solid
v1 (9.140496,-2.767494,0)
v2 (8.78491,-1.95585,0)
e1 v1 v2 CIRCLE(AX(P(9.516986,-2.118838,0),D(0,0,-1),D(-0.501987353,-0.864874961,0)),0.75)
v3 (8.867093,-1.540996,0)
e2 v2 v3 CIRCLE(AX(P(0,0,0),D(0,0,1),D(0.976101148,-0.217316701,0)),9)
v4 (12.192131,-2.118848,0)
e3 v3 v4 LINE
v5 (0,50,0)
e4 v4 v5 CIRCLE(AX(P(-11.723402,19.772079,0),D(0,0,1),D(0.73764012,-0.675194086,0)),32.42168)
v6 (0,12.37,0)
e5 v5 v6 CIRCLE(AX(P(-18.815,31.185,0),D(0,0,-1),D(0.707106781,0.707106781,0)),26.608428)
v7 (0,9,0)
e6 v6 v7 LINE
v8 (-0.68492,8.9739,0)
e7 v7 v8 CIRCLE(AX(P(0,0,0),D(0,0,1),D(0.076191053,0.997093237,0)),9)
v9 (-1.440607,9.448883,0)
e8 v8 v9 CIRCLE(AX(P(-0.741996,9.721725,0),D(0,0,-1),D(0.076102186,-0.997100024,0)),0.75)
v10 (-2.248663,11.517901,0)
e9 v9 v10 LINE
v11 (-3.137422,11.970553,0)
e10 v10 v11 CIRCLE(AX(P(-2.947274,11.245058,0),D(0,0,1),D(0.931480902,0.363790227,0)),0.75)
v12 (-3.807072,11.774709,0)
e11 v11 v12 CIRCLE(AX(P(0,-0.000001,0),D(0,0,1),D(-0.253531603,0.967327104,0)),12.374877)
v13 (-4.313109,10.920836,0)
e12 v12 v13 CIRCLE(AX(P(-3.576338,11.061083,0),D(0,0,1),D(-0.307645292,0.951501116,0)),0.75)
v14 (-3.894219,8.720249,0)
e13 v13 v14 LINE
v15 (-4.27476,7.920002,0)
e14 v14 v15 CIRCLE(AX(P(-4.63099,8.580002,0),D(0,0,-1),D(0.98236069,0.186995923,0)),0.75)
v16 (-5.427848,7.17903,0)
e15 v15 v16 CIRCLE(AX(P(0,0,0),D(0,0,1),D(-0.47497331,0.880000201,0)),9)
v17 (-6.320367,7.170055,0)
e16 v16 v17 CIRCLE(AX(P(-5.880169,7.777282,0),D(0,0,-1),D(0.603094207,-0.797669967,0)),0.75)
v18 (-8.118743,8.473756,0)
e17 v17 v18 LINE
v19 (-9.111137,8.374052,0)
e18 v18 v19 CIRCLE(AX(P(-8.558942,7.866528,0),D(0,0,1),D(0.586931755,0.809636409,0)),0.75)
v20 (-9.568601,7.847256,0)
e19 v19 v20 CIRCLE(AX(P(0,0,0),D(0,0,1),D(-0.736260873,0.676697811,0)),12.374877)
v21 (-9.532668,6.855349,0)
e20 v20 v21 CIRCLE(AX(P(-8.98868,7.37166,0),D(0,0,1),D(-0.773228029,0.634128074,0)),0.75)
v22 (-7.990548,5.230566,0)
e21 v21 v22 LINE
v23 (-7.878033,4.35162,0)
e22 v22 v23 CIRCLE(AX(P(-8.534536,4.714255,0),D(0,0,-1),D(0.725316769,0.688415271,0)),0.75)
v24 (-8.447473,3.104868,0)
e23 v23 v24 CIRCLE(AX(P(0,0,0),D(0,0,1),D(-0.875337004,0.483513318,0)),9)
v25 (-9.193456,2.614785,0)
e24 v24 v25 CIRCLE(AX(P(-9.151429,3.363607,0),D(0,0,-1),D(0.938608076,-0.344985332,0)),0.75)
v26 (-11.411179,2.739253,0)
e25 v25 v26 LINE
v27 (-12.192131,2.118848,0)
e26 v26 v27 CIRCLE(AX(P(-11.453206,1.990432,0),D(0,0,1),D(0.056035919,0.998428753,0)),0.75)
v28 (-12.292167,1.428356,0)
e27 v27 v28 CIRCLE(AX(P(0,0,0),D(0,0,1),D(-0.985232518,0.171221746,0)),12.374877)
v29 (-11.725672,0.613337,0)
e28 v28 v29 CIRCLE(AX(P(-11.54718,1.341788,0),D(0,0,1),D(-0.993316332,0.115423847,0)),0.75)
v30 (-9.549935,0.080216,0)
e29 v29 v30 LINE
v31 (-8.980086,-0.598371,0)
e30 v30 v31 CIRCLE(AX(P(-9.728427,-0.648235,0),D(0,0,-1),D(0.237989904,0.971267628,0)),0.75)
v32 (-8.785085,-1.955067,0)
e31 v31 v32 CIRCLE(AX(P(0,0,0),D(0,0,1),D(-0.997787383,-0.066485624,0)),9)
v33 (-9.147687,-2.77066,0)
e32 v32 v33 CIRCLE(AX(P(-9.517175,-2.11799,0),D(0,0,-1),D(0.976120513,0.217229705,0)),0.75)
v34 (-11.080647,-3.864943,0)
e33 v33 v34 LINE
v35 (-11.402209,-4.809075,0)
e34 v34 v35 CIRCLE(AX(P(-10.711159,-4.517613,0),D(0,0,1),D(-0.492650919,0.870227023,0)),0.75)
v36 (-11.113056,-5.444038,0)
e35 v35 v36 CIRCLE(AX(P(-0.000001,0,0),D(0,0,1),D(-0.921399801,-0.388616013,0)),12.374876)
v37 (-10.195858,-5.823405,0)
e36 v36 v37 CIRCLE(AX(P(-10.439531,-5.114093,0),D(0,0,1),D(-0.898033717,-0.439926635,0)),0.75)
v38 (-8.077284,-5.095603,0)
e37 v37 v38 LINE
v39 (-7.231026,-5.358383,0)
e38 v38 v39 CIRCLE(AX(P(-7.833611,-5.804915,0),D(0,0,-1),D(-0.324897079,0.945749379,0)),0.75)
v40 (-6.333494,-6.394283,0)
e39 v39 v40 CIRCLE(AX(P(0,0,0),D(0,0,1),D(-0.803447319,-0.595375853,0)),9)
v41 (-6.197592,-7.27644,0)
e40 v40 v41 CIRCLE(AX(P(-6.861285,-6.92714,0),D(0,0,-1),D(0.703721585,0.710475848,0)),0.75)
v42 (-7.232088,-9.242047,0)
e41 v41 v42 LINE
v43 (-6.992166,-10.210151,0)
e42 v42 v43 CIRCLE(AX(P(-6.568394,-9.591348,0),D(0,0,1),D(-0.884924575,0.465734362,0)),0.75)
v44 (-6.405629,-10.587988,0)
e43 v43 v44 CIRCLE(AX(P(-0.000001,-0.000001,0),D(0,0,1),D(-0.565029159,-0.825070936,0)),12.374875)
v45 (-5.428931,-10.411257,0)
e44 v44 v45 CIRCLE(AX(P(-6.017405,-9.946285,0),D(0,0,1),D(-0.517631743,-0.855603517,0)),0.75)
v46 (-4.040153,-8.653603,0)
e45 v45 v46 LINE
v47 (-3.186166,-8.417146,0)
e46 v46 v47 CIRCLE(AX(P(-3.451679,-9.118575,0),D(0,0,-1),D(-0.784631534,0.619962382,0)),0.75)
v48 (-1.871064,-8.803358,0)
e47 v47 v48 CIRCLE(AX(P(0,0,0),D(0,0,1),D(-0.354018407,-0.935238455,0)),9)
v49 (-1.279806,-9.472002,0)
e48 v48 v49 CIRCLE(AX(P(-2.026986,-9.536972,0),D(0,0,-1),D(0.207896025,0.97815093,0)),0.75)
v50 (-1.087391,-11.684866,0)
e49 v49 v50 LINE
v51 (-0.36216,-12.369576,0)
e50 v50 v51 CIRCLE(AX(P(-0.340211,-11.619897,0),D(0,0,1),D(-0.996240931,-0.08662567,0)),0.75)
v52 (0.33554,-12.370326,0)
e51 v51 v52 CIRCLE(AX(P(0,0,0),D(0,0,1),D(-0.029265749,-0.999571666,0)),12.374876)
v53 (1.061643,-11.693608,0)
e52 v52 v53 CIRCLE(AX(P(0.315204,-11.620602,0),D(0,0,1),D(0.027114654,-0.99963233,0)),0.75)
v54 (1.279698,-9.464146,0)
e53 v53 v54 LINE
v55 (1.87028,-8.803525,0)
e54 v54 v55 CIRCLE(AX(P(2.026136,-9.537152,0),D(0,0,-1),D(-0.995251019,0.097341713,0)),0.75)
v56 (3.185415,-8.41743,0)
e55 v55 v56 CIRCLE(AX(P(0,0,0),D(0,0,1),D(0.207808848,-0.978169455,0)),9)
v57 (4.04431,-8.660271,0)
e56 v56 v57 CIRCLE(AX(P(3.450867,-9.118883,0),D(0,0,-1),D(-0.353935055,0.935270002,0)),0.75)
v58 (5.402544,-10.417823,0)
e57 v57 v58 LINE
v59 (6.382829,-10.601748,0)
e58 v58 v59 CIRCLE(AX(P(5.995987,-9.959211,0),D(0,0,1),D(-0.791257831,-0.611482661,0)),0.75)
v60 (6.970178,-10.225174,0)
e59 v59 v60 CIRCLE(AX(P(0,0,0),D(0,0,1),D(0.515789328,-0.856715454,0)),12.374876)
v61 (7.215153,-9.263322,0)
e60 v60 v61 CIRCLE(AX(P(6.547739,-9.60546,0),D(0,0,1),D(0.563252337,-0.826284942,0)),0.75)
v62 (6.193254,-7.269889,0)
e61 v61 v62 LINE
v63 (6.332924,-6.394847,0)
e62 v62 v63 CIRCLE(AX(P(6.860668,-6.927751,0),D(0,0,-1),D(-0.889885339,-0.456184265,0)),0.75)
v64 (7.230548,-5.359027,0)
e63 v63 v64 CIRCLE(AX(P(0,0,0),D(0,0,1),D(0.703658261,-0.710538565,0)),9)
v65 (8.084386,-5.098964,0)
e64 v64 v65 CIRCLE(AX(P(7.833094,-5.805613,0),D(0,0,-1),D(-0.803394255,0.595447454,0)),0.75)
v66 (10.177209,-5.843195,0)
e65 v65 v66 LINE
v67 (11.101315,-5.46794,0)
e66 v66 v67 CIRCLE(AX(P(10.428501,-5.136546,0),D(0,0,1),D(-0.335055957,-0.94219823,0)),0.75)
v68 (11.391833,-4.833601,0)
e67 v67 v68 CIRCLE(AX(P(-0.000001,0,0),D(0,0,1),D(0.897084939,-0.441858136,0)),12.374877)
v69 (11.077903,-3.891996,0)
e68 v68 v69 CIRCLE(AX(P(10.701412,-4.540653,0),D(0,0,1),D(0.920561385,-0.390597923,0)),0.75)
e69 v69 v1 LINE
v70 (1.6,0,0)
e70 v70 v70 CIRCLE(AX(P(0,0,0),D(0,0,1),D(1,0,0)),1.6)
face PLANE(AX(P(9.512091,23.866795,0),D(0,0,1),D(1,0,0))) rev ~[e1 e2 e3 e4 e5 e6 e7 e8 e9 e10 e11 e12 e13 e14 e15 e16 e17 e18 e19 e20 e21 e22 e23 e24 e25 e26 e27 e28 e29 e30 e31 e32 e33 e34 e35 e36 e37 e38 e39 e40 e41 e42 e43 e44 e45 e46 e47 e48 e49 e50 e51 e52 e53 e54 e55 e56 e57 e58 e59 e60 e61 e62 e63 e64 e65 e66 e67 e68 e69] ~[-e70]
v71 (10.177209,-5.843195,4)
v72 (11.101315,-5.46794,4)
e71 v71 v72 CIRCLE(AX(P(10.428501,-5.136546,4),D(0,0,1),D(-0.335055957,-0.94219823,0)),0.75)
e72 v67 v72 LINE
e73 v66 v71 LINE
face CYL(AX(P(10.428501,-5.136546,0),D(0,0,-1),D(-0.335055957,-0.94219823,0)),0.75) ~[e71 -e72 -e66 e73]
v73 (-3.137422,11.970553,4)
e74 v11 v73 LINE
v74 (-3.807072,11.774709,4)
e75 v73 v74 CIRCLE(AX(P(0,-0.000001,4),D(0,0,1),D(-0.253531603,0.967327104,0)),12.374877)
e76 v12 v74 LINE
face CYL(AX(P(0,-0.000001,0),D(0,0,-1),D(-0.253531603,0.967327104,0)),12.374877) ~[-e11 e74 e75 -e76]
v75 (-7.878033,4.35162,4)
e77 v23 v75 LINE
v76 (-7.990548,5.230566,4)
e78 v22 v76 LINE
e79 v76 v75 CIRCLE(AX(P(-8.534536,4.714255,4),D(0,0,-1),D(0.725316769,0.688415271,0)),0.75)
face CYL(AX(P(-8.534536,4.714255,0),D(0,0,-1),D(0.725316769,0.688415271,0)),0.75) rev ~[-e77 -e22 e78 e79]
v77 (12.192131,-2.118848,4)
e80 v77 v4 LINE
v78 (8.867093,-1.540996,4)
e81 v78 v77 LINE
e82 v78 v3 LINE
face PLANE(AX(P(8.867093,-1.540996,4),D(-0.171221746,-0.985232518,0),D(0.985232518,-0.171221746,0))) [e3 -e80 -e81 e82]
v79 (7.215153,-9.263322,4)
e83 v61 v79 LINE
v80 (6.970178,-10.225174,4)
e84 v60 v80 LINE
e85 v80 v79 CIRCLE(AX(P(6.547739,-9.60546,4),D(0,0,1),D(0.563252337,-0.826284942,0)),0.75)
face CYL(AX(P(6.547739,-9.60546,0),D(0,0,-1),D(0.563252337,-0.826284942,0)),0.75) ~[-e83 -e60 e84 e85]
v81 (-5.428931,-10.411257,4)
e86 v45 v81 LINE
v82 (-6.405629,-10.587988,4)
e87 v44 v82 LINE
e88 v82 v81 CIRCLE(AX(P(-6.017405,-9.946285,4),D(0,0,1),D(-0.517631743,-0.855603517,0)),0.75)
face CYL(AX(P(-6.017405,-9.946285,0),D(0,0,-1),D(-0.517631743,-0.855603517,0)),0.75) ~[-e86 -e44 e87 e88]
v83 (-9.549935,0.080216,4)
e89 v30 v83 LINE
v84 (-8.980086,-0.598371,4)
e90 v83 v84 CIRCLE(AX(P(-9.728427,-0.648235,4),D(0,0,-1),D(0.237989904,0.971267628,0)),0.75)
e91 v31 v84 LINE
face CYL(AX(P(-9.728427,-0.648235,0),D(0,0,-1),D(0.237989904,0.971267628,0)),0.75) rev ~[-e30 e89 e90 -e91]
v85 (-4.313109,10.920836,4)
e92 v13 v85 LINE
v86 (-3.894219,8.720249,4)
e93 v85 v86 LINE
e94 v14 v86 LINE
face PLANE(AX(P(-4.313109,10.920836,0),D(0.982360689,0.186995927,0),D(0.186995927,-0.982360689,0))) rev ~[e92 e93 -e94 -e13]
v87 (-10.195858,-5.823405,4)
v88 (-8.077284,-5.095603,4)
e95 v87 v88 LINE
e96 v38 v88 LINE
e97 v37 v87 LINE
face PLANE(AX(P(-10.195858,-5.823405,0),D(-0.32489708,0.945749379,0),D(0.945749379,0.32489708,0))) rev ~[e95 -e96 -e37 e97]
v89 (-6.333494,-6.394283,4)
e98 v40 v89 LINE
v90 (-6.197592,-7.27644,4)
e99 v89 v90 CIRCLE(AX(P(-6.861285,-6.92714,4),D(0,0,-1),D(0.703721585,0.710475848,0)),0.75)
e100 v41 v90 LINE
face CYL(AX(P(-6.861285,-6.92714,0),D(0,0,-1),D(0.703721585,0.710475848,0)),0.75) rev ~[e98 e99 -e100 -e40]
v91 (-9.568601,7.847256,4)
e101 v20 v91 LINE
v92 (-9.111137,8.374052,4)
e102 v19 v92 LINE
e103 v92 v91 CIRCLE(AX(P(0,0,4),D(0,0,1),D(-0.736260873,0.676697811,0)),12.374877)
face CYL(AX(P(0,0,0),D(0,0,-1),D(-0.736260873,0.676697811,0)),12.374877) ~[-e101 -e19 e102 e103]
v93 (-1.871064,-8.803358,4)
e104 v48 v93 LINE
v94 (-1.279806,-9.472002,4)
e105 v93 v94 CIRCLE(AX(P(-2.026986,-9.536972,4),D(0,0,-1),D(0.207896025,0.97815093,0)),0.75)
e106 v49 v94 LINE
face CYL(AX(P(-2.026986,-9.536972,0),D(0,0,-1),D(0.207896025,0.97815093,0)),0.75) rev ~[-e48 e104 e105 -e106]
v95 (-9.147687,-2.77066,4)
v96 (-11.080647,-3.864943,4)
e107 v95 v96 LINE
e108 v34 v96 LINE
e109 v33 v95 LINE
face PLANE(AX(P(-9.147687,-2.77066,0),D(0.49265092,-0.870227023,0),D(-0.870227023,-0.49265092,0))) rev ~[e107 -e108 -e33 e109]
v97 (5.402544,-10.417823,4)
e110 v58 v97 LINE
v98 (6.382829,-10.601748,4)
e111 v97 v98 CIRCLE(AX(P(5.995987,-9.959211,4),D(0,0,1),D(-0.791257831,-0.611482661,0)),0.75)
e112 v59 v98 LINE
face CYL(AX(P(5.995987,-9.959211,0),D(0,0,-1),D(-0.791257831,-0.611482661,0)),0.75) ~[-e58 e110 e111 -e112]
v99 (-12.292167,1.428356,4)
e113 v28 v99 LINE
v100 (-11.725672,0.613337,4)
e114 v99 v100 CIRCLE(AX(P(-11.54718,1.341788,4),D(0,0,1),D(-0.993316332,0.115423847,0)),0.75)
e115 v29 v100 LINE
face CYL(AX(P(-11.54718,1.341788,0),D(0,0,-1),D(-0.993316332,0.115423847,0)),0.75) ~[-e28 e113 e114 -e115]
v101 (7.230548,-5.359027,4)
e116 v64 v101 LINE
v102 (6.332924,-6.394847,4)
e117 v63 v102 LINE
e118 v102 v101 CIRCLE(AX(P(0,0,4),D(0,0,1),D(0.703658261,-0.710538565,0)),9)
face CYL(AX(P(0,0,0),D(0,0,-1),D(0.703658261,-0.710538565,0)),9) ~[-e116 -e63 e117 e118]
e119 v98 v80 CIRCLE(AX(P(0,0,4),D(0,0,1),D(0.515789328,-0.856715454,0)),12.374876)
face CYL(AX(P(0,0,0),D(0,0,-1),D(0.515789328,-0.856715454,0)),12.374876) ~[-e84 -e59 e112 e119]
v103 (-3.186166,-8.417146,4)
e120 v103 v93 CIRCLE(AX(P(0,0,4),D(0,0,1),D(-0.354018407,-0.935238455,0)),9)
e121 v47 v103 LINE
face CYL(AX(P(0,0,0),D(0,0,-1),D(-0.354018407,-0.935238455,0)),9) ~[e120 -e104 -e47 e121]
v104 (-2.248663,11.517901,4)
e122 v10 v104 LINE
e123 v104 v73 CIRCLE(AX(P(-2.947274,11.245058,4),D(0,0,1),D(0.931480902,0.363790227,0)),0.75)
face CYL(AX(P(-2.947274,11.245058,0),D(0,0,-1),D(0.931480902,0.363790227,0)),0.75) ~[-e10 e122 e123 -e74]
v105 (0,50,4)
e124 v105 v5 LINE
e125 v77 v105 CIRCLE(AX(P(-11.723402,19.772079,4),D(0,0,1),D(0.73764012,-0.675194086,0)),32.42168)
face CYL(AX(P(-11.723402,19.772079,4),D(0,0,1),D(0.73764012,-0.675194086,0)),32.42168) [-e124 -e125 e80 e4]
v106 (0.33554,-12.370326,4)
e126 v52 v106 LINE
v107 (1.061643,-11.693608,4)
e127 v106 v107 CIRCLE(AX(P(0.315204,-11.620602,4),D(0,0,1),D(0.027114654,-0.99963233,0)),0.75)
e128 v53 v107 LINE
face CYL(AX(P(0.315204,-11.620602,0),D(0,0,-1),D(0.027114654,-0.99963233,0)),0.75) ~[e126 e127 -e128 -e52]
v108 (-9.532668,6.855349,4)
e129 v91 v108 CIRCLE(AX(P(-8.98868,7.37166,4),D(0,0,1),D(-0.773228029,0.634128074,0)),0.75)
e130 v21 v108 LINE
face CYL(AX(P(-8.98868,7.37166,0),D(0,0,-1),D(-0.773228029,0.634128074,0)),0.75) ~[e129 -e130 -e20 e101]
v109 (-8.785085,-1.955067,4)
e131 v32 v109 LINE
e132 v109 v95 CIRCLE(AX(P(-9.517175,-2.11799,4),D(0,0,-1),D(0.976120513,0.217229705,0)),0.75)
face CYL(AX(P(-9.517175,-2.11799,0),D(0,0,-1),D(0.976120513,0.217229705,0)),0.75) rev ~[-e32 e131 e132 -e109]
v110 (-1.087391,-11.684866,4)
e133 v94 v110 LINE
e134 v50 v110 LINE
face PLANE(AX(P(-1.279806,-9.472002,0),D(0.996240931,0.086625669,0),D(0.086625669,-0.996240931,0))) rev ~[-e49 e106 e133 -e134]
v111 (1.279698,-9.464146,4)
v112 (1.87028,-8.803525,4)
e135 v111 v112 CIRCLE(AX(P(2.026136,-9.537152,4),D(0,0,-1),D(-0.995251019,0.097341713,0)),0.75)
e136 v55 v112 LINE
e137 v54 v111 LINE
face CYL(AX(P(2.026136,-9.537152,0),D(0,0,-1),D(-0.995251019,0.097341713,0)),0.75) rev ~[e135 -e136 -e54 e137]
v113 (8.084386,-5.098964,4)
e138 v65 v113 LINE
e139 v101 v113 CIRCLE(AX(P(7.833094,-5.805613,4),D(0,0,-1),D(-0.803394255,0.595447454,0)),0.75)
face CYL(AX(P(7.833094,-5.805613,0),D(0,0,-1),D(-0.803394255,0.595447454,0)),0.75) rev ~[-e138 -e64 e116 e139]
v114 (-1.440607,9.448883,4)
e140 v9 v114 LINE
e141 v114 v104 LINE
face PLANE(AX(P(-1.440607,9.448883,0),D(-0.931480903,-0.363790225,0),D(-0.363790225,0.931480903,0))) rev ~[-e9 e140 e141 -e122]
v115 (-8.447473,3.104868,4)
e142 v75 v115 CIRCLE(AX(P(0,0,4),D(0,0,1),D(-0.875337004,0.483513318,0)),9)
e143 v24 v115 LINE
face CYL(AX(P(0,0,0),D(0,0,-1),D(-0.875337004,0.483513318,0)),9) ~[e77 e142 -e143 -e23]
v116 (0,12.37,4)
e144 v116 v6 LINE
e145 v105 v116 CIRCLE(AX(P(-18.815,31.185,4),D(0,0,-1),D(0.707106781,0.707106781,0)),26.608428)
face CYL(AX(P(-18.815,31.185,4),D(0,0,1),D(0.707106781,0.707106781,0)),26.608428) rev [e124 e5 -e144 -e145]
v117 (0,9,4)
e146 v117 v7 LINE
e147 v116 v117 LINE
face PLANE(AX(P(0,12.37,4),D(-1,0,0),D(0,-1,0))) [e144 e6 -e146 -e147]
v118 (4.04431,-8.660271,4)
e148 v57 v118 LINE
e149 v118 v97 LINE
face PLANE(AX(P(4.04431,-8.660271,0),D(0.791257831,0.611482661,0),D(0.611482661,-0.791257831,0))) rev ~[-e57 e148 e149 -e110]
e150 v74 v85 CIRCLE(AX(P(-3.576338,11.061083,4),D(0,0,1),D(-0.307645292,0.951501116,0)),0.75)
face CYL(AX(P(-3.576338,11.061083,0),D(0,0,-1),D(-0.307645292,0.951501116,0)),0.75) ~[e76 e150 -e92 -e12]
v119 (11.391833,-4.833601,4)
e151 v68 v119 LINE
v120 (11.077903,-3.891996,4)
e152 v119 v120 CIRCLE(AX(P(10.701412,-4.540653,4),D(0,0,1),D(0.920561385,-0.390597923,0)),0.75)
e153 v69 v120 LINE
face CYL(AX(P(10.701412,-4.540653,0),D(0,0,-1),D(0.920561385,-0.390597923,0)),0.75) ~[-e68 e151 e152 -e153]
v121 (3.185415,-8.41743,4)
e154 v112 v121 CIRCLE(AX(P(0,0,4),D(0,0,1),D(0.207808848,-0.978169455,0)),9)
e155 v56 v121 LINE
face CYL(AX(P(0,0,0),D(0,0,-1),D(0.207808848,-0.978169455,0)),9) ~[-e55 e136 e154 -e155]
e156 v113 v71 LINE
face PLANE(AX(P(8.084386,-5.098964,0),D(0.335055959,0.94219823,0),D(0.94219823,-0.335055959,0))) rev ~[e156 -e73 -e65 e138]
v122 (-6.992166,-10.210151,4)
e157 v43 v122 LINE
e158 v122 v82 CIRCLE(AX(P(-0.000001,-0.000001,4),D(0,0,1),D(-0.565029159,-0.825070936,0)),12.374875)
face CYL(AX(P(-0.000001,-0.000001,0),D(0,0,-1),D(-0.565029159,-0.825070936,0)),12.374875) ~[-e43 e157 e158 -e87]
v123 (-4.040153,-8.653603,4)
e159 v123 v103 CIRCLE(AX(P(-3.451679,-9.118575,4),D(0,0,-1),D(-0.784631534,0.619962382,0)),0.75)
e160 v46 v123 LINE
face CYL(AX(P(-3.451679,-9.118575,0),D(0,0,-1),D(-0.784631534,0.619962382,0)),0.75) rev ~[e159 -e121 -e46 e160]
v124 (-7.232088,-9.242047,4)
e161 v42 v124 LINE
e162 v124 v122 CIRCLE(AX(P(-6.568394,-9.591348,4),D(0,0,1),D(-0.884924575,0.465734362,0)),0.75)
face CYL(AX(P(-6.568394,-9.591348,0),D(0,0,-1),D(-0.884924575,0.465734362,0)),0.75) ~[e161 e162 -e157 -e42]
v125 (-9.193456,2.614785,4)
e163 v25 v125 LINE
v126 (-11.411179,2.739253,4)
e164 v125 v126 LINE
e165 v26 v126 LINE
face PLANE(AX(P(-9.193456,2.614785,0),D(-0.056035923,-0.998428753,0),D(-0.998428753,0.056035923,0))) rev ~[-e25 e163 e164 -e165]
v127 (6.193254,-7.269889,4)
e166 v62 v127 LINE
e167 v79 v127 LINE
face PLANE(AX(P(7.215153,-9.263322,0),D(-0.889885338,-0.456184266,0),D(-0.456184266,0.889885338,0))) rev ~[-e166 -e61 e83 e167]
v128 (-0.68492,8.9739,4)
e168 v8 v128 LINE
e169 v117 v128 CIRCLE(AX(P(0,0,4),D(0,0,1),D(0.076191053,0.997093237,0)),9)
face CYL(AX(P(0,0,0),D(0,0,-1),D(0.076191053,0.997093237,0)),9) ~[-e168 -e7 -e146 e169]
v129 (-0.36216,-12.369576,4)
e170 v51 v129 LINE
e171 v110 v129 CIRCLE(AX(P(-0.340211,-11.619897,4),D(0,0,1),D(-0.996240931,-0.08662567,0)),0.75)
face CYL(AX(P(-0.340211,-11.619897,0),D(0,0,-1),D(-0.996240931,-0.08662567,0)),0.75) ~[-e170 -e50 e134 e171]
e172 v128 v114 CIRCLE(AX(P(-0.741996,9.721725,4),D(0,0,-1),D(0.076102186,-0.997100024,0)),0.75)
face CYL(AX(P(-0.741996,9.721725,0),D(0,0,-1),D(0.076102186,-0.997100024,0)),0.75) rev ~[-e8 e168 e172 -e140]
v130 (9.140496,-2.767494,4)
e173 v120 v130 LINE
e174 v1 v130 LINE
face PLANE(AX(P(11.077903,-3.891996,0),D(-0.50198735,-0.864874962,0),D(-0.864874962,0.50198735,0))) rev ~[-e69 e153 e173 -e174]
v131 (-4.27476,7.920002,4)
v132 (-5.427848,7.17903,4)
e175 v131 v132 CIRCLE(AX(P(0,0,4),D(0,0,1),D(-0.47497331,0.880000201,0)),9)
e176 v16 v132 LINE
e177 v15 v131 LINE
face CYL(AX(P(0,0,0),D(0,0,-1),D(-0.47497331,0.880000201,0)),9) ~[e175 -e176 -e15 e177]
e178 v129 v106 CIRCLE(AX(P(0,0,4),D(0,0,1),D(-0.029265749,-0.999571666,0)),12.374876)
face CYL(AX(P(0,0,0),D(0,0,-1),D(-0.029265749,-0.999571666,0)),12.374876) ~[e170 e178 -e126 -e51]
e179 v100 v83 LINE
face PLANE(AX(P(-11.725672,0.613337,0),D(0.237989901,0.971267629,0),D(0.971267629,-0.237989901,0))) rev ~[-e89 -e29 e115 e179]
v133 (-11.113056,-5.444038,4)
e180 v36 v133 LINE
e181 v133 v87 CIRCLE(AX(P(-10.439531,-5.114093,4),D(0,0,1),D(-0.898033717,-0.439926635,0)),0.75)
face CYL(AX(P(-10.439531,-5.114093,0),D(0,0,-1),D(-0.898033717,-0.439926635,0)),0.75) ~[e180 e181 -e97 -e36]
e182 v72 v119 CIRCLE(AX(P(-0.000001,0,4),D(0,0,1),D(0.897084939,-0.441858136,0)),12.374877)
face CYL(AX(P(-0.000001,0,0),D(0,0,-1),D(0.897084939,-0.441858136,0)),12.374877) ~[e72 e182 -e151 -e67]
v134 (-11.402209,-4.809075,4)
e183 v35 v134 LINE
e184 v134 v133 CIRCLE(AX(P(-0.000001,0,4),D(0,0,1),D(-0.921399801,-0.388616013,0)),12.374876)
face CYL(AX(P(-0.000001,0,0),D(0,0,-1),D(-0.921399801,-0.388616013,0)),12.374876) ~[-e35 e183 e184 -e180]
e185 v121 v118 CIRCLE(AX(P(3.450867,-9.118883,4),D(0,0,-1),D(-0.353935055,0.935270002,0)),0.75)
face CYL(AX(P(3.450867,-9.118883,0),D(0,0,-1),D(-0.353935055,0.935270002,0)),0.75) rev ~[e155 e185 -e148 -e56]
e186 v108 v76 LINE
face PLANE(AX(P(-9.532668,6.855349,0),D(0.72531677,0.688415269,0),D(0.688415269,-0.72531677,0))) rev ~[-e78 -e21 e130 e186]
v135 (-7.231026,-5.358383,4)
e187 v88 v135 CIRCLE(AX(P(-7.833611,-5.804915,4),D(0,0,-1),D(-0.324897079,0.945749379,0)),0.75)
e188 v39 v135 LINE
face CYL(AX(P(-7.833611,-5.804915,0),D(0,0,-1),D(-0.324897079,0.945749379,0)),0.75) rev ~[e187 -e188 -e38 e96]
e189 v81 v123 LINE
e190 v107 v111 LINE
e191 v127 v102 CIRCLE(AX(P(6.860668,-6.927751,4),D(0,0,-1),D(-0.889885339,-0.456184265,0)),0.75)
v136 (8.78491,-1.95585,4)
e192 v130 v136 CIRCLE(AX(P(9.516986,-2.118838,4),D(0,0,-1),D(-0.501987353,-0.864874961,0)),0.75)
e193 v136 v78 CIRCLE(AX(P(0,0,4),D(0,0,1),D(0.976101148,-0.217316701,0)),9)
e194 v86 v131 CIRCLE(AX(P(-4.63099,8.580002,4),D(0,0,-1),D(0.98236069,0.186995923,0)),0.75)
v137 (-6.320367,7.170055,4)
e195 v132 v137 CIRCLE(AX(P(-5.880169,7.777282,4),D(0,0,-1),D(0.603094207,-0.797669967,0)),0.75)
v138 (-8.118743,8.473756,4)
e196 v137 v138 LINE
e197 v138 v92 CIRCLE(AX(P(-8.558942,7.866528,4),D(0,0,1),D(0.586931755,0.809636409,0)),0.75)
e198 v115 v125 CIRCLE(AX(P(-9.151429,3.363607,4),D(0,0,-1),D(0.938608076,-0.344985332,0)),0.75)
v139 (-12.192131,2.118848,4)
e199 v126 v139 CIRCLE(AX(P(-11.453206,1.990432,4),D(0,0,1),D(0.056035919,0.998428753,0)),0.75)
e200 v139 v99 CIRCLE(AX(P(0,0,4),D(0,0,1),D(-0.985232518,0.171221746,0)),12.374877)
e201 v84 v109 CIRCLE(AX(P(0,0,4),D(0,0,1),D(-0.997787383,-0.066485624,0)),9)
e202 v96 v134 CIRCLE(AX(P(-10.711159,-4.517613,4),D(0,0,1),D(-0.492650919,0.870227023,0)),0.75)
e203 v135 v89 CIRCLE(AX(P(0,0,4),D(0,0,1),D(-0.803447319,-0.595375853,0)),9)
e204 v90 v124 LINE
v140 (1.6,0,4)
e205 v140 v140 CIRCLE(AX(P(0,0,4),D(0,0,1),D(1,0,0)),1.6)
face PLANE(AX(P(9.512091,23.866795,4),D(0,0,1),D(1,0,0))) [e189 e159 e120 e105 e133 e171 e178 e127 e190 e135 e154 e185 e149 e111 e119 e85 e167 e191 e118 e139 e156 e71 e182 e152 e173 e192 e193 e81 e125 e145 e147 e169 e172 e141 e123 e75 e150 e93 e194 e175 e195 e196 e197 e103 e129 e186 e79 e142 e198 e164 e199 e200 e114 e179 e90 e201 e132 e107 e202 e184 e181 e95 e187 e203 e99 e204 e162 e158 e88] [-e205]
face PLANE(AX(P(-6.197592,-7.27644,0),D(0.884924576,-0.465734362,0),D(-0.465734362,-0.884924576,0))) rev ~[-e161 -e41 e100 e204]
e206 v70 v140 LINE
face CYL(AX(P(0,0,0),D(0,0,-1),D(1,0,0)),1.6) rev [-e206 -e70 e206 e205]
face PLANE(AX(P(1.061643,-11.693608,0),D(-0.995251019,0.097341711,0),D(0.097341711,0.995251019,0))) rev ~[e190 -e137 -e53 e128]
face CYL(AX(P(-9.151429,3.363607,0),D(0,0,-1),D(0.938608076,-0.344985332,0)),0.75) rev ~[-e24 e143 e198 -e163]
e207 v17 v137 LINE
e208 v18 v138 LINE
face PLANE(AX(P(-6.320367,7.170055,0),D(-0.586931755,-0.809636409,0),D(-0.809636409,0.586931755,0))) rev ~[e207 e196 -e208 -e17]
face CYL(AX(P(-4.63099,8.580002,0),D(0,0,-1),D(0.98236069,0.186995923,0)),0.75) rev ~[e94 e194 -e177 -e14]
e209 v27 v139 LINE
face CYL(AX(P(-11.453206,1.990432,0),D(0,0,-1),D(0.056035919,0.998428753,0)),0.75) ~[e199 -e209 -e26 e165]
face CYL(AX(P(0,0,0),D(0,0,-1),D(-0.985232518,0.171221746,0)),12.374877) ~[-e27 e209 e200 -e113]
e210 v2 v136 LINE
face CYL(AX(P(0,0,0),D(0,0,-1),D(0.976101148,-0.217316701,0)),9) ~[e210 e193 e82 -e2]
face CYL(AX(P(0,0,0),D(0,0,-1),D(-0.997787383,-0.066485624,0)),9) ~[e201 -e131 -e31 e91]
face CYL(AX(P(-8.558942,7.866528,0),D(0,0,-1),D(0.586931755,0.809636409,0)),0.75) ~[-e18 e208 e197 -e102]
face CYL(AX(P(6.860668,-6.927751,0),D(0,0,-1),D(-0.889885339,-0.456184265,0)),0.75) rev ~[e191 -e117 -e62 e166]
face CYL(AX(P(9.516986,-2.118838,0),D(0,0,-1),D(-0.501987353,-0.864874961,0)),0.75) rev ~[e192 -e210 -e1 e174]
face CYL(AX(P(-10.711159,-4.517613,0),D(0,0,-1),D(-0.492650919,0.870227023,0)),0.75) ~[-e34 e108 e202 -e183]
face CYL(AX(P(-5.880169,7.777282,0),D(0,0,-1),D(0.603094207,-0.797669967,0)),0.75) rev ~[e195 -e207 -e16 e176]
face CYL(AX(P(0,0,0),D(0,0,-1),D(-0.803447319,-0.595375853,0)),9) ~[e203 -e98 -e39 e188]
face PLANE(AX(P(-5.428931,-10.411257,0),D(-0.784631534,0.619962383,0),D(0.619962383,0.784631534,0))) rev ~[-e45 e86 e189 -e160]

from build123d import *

# Parameters (mm, degrees)
ESBO_O1_R                = 1.6
RESSALTO_EXTRUS_O1_DEPTH = 4
RESSALTO_EXTRUS_O2_START = -4
RESSALTO_EXTRUS_O2_DEPTH = 4


with BuildPart() as part:
    # Esboço1 → Ressalto-extrusão1 (new body)
    with BuildSketch(Plane.XY):
        with BuildLine():
            Line((-5.428931338, -10.411256864), (-4.040153116, -8.653603149))
            ThreePointArc((-4.040153116, -8.653603149), (-3.651813796, -8.395770502), (-3.186165661, -8.417146095))
            ThreePointArc((-3.186165661, -8.417146095), (-2.535977815, -8.635323765), (-1.871064211, -8.803358377))
            ThreePointArc((-1.871064211, -8.803358377), (-1.465141223, -9.040151498), (-1.27980553, -9.472002324))
            Line((-1.27980553, -9.472002324), (-1.087391415, -11.684866251))
            ThreePointArc((-1.087391415, -11.684866251), (-0.855086446, -12.165243662), (-0.362160028, -12.369575749))
            ThreePointArc((-0.362160028, -12.369575749), (-0.013315066, -12.374869163), (0.335540479, -12.370326458))
            ThreePointArc((0.335540479, -12.370326458), (0.826548297, -12.16926195), (1.061642754, -11.693608494))
            Line((1.061642754, -11.693608494), (1.279697998, -9.464145904))
            ThreePointArc((1.279697998, -9.464145904), (1.466994971, -9.037291191), (1.870279627, -8.803525096))
            ThreePointArc((1.870279627, -8.803525096), (2.535208203, -8.635549743), (3.185415492, -8.41743002))
            ThreePointArc((3.185415492, -8.41743002), (3.654919666, -8.397174533), (4.044310156, -8.660270526))
            Line((4.044310156, -8.660270526), (5.402543773, -10.417823198))
            ThreePointArc((5.402543773, -10.417823198), (5.857682784, -10.696348844), (6.382829142, -10.601747792))
            ThreePointArc((6.382829142, -10.601747792), (6.679158034, -10.41760107), (6.970178022, -10.225173956))
            ThreePointArc((6.970178022, -10.225173956), (7.274536404, -9.790568861), (7.215152773, -9.263322051))
            Line((7.215152773, -9.263322051), (6.19325404, -7.269889205))
            ThreePointArc((6.19325404, -7.269889205), (6.120043199, -6.809535782), (6.332924348, -6.394847082))
            ThreePointArc((6.332924348, -6.394847082), (6.80148353, -5.894049694), (7.230548283, -5.359027107))
            ThreePointArc((7.230548283, -5.359027107), (7.614569385, -5.088153986), (8.084385943, -5.098964027))
            Line((8.084385943, -5.098964027), (10.177209485, -5.843194888))
            ThreePointArc((10.177209485, -5.843194888), (10.710679119, -5.831438844), (11.101315158, -5.46793982))
            ThreePointArc((11.101315158, -5.46793982), (11.251045651, -5.152818244), (11.391833292, -4.833600971))
            ThreePointArc((11.391833292, -4.833600971), (11.412910602, -4.303439334), (11.077902766, -3.891996308))
            Line((11.077902766, -3.891996308), (9.140495683, -2.76749405))
            ThreePointArc((9.140495683, -2.76749405), (8.830020954, -2.419800875), (8.784910335, -1.955850303))
            ThreePointArc((8.784910335, -1.955850303), (8.908335893, -1.281230512), (8.980033083, -0.599170952))
            ThreePointArc((8.980033083, -0.599170952), (9.156647127, -0.163680499), (9.557726315, 0.081227523))
            Line((9.557726315, 0.081227523), (11.720683094, 0.586606513))
            ThreePointArc((11.720683094, 0.586606513), (12.163110512, 0.884911785), (12.295212049, 1.401900411))
            ThreePointArc((12.295212049, 1.401900411), (12.25080577, 1.747947966), (12.196661982, 2.09260617))
            ThreePointArc((12.196661982, 2.09260617), (11.927766323, 2.550001774), (11.423496904, 2.715010763))
            Line((11.423496904, 2.715010763), (9.185694531, 2.613560912))
            ThreePointArc((9.185694531, 2.613560912), (8.736529446, 2.738203711), (8.447749362, 3.104115127))
            ThreePointArc((8.447749362, 3.104115127), (8.186854553, 3.738370305), (7.878420829, 4.350917747))
            ThreePointArc((7.878420829, 4.350917747), (7.791554103, 4.812760389), (7.996556113, 5.235629909))
            Line((7.996556113, 5.235629909), (9.542922635, 6.83016449))
            ThreePointArc((9.542922635, 6.83016449), (9.753840257, 7.320309176), (9.585465989, 7.826647167))
            ThreePointArc((9.585465989, 7.826647167), (9.361021617, 8.093753047), (9.129136671, 8.354425638))
            ThreePointArc((9.129136671, 8.354425638), (8.655640515, 8.593835336), (8.142211489, 8.4600211))
            Line((8.142211489, 8.4600211), (6.314500268, 7.16482875))
            ThreePointArc((6.314500268, 7.16482875), (5.869251568, 7.026847967), (5.428487655, 7.178545938))
            ThreePointArc((5.428487655, 7.178545938), (4.866104738, 7.571064963), (4.275465628, 7.919620803))
            ThreePointArc((4.275465628, 7.919620803), (3.952697704, 8.26118386), (3.896535847, 8.727756791))
            Line((3.896535847, 8.727756791), (4.335351667, 10.905193502))
            ThreePointArc((4.335351667, 10.905193502), (4.247794638, 11.431560125), (3.832402205, 11.766488747))
            ThreePointArc((3.832402205, 11.766488747), (3.499179242, 11.869848724), (3.16317497, 11.963773995))
            ThreePointArc((3.16317497, 11.963773995), (2.635410001, 11.909186901), (2.275831457, 11.519034514))
            Line((2.275831457, 11.519034514), (1.438496786, 9.441314085))
            ThreePointArc((1.438496786, 9.441314085), (1.138527788, 9.084517642), (0.685719474, 8.973839134))
            ThreePointArc((0.685719474, 8.973839134), (0.000401051, 8.999999991), (-0.684919701, 8.973900211))
            ThreePointArc((-0.684919701, 8.973900211), (-1.141112287, 9.086739826), (-1.440607019, 9.44888256))
            Line((-1.440607019, 9.44888256), (-2.248662823, 11.517900629))
            ThreePointArc((-2.248662823, 11.517900629), (-2.606895765, 11.913371507), (-3.137422201, 11.970553289))
            ThreePointArc((-3.137422201, 11.970553289), (-3.473627818, 11.877351299), (-3.807072434, 11.774708641))
            ThreePointArc((-3.807072434, 11.774708641), (-4.221544568, 11.44345577), (-4.313108983, 10.920835859))
            Line((-4.313108983, 10.920835859), (-3.894219261, 8.720248907))
            ThreePointArc((-3.894219261, 8.720248907), (-3.953670521, 8.257917155), (-4.274759795, 7.920001811))
            ThreePointArc((-4.274759795, 7.920001811), (-4.865429967, 7.571498612), (-5.427847864, 7.179029709))
            ThreePointArc((-5.427847864, 7.179029709), (-5.87262719, 7.0273201), (-6.320367336, 7.170054878))
            Line((-6.320367336, 7.170054878), (-8.118742756, 8.473755688))
            ThreePointArc((-8.118742756, 8.473755688), (-8.633915182, 8.612771611), (-9.111137226, 8.374051741))
            ThreePointArc((-9.111137226, 8.374051741), (-9.343582589, 8.113878758), (-9.56860124, 7.847256489))
            ThreePointArc((-9.56860124, 7.847256489), (-9.738188564, 7.344508289), (-9.532667795, 6.855348982))
            Line((-9.532667795, 6.855348982), (-7.990548209, 5.230566315))
            ThreePointArc((-7.990548209, 5.230566315), (-7.790606374, 4.809486318), (-7.878033033, 4.351619874))
            ThreePointArc((-7.878033033, 4.351619874), (-8.186521347, 3.739099922), (-8.447472682, 3.104867999))
            ThreePointArc((-8.447472682, 3.104867999), (-8.739624454, 2.736775896), (-9.19345568, 2.614785434))
            Line((-9.19345568, 2.614785434), (-11.411179228, 2.739253189))
            ThreePointArc((-11.411179228, 2.739253189), (-11.919727533, 2.577677583), (-12.192130558, 2.118847933))
            ThreePointArc((-12.192130558, 2.118847933), (-12.247015907, 1.774307042), (-12.292166761, 1.428355848))
            ThreePointArc((-12.292166761, 1.428355848), (-12.163026498, 0.913731319), (-11.725671937, 0.61333724))
            Line((-11.725671937, 0.61333724), (-9.549934558, 0.080215876))
            ThreePointArc((-9.549934558, 0.080215876), (-9.15407975, -0.165922443), (-8.980086447, -0.598370627))
            ThreePointArc((-8.980086447, -0.598370627), (-8.908450044, -1.280436574), (-8.78508461, -1.955067363))
            ThreePointArc((-8.78508461, -1.955067363), (-8.831852706, -2.422675318), (-9.147686805, -2.77065991))
            Line((-9.147686805, -2.77065991), (-11.080646922, -3.864942843))
            ThreePointArc((-11.080646922, -3.864942843), (-11.421110614, -4.275810864), (-11.402208583, -4.809075122))
            ThreePointArc((-11.402208583, -4.809075122), (-11.262108208, -5.128594624), (-11.113056187, -5.444037682))
            ThreePointArc((-11.113056187, -5.444037682), (-10.726189458, -5.807148888), (-10.195858089, -5.823404741))
            Line((-10.195858089, -5.823404741), (-8.077284162, -5.095602537))
            ThreePointArc((-8.077284162, -5.095602537), (-7.611197484, -5.088652), (-7.231025864, -5.358382681))
            ThreePointArc((-7.231025864, -5.358382681), (-6.802008795, -5.893443506), (-6.333494247, -6.394282651))
            ThreePointArc((-6.333494247, -6.394282651), (-6.120030126, -6.812944237), (-6.197592003, -7.27644031))
            Line((-6.197592003, -7.27644031), (-7.232087511, -9.242046831))
            ThreePointArc((-7.232087511, -9.242046831), (-7.296371772, -9.771759573), (-6.992165948, -10.210150805))
            ThreePointArc((-6.992165948, -10.210150805), (-6.701560727, -10.403203734), (-6.405628795, -10.587987714))
            ThreePointArc((-6.405628795, -10.587987714), (-5.883863054, -10.684300355), (-5.428931338, -10.411256864))
        make_face()
        Circle(ESBO_O1_R, mode=Mode.SUBTRACT)
    extrude(amount=RESSALTO_EXTRUS_O1_DEPTH)

    # Esboço6 → Ressalto-extrusão2 (add)
    with BuildSketch(Plane.XY.offset(4).offset(RESSALTO_EXTRUS_O2_START)):
        with BuildLine():
            Line((0, 12.37), (0, 9))
            ThreePointArc((0, 9), (6.887269468, 5.79357569), (8.867092658, -1.540995716))
            Line((8.867092658, -1.540995716), (12.192130558, -2.118847933))
            ThreePointArc((12.192130558, -2.118847933), (19.845997755, 27.157089417), (0, 50))
            ThreePointArc((0, 50), (7.793428176, 31.185), (0, 12.37))
        make_face()
    extrude(amount=RESSALTO_EXTRUS_O2_DEPTH)


solid = part.part
